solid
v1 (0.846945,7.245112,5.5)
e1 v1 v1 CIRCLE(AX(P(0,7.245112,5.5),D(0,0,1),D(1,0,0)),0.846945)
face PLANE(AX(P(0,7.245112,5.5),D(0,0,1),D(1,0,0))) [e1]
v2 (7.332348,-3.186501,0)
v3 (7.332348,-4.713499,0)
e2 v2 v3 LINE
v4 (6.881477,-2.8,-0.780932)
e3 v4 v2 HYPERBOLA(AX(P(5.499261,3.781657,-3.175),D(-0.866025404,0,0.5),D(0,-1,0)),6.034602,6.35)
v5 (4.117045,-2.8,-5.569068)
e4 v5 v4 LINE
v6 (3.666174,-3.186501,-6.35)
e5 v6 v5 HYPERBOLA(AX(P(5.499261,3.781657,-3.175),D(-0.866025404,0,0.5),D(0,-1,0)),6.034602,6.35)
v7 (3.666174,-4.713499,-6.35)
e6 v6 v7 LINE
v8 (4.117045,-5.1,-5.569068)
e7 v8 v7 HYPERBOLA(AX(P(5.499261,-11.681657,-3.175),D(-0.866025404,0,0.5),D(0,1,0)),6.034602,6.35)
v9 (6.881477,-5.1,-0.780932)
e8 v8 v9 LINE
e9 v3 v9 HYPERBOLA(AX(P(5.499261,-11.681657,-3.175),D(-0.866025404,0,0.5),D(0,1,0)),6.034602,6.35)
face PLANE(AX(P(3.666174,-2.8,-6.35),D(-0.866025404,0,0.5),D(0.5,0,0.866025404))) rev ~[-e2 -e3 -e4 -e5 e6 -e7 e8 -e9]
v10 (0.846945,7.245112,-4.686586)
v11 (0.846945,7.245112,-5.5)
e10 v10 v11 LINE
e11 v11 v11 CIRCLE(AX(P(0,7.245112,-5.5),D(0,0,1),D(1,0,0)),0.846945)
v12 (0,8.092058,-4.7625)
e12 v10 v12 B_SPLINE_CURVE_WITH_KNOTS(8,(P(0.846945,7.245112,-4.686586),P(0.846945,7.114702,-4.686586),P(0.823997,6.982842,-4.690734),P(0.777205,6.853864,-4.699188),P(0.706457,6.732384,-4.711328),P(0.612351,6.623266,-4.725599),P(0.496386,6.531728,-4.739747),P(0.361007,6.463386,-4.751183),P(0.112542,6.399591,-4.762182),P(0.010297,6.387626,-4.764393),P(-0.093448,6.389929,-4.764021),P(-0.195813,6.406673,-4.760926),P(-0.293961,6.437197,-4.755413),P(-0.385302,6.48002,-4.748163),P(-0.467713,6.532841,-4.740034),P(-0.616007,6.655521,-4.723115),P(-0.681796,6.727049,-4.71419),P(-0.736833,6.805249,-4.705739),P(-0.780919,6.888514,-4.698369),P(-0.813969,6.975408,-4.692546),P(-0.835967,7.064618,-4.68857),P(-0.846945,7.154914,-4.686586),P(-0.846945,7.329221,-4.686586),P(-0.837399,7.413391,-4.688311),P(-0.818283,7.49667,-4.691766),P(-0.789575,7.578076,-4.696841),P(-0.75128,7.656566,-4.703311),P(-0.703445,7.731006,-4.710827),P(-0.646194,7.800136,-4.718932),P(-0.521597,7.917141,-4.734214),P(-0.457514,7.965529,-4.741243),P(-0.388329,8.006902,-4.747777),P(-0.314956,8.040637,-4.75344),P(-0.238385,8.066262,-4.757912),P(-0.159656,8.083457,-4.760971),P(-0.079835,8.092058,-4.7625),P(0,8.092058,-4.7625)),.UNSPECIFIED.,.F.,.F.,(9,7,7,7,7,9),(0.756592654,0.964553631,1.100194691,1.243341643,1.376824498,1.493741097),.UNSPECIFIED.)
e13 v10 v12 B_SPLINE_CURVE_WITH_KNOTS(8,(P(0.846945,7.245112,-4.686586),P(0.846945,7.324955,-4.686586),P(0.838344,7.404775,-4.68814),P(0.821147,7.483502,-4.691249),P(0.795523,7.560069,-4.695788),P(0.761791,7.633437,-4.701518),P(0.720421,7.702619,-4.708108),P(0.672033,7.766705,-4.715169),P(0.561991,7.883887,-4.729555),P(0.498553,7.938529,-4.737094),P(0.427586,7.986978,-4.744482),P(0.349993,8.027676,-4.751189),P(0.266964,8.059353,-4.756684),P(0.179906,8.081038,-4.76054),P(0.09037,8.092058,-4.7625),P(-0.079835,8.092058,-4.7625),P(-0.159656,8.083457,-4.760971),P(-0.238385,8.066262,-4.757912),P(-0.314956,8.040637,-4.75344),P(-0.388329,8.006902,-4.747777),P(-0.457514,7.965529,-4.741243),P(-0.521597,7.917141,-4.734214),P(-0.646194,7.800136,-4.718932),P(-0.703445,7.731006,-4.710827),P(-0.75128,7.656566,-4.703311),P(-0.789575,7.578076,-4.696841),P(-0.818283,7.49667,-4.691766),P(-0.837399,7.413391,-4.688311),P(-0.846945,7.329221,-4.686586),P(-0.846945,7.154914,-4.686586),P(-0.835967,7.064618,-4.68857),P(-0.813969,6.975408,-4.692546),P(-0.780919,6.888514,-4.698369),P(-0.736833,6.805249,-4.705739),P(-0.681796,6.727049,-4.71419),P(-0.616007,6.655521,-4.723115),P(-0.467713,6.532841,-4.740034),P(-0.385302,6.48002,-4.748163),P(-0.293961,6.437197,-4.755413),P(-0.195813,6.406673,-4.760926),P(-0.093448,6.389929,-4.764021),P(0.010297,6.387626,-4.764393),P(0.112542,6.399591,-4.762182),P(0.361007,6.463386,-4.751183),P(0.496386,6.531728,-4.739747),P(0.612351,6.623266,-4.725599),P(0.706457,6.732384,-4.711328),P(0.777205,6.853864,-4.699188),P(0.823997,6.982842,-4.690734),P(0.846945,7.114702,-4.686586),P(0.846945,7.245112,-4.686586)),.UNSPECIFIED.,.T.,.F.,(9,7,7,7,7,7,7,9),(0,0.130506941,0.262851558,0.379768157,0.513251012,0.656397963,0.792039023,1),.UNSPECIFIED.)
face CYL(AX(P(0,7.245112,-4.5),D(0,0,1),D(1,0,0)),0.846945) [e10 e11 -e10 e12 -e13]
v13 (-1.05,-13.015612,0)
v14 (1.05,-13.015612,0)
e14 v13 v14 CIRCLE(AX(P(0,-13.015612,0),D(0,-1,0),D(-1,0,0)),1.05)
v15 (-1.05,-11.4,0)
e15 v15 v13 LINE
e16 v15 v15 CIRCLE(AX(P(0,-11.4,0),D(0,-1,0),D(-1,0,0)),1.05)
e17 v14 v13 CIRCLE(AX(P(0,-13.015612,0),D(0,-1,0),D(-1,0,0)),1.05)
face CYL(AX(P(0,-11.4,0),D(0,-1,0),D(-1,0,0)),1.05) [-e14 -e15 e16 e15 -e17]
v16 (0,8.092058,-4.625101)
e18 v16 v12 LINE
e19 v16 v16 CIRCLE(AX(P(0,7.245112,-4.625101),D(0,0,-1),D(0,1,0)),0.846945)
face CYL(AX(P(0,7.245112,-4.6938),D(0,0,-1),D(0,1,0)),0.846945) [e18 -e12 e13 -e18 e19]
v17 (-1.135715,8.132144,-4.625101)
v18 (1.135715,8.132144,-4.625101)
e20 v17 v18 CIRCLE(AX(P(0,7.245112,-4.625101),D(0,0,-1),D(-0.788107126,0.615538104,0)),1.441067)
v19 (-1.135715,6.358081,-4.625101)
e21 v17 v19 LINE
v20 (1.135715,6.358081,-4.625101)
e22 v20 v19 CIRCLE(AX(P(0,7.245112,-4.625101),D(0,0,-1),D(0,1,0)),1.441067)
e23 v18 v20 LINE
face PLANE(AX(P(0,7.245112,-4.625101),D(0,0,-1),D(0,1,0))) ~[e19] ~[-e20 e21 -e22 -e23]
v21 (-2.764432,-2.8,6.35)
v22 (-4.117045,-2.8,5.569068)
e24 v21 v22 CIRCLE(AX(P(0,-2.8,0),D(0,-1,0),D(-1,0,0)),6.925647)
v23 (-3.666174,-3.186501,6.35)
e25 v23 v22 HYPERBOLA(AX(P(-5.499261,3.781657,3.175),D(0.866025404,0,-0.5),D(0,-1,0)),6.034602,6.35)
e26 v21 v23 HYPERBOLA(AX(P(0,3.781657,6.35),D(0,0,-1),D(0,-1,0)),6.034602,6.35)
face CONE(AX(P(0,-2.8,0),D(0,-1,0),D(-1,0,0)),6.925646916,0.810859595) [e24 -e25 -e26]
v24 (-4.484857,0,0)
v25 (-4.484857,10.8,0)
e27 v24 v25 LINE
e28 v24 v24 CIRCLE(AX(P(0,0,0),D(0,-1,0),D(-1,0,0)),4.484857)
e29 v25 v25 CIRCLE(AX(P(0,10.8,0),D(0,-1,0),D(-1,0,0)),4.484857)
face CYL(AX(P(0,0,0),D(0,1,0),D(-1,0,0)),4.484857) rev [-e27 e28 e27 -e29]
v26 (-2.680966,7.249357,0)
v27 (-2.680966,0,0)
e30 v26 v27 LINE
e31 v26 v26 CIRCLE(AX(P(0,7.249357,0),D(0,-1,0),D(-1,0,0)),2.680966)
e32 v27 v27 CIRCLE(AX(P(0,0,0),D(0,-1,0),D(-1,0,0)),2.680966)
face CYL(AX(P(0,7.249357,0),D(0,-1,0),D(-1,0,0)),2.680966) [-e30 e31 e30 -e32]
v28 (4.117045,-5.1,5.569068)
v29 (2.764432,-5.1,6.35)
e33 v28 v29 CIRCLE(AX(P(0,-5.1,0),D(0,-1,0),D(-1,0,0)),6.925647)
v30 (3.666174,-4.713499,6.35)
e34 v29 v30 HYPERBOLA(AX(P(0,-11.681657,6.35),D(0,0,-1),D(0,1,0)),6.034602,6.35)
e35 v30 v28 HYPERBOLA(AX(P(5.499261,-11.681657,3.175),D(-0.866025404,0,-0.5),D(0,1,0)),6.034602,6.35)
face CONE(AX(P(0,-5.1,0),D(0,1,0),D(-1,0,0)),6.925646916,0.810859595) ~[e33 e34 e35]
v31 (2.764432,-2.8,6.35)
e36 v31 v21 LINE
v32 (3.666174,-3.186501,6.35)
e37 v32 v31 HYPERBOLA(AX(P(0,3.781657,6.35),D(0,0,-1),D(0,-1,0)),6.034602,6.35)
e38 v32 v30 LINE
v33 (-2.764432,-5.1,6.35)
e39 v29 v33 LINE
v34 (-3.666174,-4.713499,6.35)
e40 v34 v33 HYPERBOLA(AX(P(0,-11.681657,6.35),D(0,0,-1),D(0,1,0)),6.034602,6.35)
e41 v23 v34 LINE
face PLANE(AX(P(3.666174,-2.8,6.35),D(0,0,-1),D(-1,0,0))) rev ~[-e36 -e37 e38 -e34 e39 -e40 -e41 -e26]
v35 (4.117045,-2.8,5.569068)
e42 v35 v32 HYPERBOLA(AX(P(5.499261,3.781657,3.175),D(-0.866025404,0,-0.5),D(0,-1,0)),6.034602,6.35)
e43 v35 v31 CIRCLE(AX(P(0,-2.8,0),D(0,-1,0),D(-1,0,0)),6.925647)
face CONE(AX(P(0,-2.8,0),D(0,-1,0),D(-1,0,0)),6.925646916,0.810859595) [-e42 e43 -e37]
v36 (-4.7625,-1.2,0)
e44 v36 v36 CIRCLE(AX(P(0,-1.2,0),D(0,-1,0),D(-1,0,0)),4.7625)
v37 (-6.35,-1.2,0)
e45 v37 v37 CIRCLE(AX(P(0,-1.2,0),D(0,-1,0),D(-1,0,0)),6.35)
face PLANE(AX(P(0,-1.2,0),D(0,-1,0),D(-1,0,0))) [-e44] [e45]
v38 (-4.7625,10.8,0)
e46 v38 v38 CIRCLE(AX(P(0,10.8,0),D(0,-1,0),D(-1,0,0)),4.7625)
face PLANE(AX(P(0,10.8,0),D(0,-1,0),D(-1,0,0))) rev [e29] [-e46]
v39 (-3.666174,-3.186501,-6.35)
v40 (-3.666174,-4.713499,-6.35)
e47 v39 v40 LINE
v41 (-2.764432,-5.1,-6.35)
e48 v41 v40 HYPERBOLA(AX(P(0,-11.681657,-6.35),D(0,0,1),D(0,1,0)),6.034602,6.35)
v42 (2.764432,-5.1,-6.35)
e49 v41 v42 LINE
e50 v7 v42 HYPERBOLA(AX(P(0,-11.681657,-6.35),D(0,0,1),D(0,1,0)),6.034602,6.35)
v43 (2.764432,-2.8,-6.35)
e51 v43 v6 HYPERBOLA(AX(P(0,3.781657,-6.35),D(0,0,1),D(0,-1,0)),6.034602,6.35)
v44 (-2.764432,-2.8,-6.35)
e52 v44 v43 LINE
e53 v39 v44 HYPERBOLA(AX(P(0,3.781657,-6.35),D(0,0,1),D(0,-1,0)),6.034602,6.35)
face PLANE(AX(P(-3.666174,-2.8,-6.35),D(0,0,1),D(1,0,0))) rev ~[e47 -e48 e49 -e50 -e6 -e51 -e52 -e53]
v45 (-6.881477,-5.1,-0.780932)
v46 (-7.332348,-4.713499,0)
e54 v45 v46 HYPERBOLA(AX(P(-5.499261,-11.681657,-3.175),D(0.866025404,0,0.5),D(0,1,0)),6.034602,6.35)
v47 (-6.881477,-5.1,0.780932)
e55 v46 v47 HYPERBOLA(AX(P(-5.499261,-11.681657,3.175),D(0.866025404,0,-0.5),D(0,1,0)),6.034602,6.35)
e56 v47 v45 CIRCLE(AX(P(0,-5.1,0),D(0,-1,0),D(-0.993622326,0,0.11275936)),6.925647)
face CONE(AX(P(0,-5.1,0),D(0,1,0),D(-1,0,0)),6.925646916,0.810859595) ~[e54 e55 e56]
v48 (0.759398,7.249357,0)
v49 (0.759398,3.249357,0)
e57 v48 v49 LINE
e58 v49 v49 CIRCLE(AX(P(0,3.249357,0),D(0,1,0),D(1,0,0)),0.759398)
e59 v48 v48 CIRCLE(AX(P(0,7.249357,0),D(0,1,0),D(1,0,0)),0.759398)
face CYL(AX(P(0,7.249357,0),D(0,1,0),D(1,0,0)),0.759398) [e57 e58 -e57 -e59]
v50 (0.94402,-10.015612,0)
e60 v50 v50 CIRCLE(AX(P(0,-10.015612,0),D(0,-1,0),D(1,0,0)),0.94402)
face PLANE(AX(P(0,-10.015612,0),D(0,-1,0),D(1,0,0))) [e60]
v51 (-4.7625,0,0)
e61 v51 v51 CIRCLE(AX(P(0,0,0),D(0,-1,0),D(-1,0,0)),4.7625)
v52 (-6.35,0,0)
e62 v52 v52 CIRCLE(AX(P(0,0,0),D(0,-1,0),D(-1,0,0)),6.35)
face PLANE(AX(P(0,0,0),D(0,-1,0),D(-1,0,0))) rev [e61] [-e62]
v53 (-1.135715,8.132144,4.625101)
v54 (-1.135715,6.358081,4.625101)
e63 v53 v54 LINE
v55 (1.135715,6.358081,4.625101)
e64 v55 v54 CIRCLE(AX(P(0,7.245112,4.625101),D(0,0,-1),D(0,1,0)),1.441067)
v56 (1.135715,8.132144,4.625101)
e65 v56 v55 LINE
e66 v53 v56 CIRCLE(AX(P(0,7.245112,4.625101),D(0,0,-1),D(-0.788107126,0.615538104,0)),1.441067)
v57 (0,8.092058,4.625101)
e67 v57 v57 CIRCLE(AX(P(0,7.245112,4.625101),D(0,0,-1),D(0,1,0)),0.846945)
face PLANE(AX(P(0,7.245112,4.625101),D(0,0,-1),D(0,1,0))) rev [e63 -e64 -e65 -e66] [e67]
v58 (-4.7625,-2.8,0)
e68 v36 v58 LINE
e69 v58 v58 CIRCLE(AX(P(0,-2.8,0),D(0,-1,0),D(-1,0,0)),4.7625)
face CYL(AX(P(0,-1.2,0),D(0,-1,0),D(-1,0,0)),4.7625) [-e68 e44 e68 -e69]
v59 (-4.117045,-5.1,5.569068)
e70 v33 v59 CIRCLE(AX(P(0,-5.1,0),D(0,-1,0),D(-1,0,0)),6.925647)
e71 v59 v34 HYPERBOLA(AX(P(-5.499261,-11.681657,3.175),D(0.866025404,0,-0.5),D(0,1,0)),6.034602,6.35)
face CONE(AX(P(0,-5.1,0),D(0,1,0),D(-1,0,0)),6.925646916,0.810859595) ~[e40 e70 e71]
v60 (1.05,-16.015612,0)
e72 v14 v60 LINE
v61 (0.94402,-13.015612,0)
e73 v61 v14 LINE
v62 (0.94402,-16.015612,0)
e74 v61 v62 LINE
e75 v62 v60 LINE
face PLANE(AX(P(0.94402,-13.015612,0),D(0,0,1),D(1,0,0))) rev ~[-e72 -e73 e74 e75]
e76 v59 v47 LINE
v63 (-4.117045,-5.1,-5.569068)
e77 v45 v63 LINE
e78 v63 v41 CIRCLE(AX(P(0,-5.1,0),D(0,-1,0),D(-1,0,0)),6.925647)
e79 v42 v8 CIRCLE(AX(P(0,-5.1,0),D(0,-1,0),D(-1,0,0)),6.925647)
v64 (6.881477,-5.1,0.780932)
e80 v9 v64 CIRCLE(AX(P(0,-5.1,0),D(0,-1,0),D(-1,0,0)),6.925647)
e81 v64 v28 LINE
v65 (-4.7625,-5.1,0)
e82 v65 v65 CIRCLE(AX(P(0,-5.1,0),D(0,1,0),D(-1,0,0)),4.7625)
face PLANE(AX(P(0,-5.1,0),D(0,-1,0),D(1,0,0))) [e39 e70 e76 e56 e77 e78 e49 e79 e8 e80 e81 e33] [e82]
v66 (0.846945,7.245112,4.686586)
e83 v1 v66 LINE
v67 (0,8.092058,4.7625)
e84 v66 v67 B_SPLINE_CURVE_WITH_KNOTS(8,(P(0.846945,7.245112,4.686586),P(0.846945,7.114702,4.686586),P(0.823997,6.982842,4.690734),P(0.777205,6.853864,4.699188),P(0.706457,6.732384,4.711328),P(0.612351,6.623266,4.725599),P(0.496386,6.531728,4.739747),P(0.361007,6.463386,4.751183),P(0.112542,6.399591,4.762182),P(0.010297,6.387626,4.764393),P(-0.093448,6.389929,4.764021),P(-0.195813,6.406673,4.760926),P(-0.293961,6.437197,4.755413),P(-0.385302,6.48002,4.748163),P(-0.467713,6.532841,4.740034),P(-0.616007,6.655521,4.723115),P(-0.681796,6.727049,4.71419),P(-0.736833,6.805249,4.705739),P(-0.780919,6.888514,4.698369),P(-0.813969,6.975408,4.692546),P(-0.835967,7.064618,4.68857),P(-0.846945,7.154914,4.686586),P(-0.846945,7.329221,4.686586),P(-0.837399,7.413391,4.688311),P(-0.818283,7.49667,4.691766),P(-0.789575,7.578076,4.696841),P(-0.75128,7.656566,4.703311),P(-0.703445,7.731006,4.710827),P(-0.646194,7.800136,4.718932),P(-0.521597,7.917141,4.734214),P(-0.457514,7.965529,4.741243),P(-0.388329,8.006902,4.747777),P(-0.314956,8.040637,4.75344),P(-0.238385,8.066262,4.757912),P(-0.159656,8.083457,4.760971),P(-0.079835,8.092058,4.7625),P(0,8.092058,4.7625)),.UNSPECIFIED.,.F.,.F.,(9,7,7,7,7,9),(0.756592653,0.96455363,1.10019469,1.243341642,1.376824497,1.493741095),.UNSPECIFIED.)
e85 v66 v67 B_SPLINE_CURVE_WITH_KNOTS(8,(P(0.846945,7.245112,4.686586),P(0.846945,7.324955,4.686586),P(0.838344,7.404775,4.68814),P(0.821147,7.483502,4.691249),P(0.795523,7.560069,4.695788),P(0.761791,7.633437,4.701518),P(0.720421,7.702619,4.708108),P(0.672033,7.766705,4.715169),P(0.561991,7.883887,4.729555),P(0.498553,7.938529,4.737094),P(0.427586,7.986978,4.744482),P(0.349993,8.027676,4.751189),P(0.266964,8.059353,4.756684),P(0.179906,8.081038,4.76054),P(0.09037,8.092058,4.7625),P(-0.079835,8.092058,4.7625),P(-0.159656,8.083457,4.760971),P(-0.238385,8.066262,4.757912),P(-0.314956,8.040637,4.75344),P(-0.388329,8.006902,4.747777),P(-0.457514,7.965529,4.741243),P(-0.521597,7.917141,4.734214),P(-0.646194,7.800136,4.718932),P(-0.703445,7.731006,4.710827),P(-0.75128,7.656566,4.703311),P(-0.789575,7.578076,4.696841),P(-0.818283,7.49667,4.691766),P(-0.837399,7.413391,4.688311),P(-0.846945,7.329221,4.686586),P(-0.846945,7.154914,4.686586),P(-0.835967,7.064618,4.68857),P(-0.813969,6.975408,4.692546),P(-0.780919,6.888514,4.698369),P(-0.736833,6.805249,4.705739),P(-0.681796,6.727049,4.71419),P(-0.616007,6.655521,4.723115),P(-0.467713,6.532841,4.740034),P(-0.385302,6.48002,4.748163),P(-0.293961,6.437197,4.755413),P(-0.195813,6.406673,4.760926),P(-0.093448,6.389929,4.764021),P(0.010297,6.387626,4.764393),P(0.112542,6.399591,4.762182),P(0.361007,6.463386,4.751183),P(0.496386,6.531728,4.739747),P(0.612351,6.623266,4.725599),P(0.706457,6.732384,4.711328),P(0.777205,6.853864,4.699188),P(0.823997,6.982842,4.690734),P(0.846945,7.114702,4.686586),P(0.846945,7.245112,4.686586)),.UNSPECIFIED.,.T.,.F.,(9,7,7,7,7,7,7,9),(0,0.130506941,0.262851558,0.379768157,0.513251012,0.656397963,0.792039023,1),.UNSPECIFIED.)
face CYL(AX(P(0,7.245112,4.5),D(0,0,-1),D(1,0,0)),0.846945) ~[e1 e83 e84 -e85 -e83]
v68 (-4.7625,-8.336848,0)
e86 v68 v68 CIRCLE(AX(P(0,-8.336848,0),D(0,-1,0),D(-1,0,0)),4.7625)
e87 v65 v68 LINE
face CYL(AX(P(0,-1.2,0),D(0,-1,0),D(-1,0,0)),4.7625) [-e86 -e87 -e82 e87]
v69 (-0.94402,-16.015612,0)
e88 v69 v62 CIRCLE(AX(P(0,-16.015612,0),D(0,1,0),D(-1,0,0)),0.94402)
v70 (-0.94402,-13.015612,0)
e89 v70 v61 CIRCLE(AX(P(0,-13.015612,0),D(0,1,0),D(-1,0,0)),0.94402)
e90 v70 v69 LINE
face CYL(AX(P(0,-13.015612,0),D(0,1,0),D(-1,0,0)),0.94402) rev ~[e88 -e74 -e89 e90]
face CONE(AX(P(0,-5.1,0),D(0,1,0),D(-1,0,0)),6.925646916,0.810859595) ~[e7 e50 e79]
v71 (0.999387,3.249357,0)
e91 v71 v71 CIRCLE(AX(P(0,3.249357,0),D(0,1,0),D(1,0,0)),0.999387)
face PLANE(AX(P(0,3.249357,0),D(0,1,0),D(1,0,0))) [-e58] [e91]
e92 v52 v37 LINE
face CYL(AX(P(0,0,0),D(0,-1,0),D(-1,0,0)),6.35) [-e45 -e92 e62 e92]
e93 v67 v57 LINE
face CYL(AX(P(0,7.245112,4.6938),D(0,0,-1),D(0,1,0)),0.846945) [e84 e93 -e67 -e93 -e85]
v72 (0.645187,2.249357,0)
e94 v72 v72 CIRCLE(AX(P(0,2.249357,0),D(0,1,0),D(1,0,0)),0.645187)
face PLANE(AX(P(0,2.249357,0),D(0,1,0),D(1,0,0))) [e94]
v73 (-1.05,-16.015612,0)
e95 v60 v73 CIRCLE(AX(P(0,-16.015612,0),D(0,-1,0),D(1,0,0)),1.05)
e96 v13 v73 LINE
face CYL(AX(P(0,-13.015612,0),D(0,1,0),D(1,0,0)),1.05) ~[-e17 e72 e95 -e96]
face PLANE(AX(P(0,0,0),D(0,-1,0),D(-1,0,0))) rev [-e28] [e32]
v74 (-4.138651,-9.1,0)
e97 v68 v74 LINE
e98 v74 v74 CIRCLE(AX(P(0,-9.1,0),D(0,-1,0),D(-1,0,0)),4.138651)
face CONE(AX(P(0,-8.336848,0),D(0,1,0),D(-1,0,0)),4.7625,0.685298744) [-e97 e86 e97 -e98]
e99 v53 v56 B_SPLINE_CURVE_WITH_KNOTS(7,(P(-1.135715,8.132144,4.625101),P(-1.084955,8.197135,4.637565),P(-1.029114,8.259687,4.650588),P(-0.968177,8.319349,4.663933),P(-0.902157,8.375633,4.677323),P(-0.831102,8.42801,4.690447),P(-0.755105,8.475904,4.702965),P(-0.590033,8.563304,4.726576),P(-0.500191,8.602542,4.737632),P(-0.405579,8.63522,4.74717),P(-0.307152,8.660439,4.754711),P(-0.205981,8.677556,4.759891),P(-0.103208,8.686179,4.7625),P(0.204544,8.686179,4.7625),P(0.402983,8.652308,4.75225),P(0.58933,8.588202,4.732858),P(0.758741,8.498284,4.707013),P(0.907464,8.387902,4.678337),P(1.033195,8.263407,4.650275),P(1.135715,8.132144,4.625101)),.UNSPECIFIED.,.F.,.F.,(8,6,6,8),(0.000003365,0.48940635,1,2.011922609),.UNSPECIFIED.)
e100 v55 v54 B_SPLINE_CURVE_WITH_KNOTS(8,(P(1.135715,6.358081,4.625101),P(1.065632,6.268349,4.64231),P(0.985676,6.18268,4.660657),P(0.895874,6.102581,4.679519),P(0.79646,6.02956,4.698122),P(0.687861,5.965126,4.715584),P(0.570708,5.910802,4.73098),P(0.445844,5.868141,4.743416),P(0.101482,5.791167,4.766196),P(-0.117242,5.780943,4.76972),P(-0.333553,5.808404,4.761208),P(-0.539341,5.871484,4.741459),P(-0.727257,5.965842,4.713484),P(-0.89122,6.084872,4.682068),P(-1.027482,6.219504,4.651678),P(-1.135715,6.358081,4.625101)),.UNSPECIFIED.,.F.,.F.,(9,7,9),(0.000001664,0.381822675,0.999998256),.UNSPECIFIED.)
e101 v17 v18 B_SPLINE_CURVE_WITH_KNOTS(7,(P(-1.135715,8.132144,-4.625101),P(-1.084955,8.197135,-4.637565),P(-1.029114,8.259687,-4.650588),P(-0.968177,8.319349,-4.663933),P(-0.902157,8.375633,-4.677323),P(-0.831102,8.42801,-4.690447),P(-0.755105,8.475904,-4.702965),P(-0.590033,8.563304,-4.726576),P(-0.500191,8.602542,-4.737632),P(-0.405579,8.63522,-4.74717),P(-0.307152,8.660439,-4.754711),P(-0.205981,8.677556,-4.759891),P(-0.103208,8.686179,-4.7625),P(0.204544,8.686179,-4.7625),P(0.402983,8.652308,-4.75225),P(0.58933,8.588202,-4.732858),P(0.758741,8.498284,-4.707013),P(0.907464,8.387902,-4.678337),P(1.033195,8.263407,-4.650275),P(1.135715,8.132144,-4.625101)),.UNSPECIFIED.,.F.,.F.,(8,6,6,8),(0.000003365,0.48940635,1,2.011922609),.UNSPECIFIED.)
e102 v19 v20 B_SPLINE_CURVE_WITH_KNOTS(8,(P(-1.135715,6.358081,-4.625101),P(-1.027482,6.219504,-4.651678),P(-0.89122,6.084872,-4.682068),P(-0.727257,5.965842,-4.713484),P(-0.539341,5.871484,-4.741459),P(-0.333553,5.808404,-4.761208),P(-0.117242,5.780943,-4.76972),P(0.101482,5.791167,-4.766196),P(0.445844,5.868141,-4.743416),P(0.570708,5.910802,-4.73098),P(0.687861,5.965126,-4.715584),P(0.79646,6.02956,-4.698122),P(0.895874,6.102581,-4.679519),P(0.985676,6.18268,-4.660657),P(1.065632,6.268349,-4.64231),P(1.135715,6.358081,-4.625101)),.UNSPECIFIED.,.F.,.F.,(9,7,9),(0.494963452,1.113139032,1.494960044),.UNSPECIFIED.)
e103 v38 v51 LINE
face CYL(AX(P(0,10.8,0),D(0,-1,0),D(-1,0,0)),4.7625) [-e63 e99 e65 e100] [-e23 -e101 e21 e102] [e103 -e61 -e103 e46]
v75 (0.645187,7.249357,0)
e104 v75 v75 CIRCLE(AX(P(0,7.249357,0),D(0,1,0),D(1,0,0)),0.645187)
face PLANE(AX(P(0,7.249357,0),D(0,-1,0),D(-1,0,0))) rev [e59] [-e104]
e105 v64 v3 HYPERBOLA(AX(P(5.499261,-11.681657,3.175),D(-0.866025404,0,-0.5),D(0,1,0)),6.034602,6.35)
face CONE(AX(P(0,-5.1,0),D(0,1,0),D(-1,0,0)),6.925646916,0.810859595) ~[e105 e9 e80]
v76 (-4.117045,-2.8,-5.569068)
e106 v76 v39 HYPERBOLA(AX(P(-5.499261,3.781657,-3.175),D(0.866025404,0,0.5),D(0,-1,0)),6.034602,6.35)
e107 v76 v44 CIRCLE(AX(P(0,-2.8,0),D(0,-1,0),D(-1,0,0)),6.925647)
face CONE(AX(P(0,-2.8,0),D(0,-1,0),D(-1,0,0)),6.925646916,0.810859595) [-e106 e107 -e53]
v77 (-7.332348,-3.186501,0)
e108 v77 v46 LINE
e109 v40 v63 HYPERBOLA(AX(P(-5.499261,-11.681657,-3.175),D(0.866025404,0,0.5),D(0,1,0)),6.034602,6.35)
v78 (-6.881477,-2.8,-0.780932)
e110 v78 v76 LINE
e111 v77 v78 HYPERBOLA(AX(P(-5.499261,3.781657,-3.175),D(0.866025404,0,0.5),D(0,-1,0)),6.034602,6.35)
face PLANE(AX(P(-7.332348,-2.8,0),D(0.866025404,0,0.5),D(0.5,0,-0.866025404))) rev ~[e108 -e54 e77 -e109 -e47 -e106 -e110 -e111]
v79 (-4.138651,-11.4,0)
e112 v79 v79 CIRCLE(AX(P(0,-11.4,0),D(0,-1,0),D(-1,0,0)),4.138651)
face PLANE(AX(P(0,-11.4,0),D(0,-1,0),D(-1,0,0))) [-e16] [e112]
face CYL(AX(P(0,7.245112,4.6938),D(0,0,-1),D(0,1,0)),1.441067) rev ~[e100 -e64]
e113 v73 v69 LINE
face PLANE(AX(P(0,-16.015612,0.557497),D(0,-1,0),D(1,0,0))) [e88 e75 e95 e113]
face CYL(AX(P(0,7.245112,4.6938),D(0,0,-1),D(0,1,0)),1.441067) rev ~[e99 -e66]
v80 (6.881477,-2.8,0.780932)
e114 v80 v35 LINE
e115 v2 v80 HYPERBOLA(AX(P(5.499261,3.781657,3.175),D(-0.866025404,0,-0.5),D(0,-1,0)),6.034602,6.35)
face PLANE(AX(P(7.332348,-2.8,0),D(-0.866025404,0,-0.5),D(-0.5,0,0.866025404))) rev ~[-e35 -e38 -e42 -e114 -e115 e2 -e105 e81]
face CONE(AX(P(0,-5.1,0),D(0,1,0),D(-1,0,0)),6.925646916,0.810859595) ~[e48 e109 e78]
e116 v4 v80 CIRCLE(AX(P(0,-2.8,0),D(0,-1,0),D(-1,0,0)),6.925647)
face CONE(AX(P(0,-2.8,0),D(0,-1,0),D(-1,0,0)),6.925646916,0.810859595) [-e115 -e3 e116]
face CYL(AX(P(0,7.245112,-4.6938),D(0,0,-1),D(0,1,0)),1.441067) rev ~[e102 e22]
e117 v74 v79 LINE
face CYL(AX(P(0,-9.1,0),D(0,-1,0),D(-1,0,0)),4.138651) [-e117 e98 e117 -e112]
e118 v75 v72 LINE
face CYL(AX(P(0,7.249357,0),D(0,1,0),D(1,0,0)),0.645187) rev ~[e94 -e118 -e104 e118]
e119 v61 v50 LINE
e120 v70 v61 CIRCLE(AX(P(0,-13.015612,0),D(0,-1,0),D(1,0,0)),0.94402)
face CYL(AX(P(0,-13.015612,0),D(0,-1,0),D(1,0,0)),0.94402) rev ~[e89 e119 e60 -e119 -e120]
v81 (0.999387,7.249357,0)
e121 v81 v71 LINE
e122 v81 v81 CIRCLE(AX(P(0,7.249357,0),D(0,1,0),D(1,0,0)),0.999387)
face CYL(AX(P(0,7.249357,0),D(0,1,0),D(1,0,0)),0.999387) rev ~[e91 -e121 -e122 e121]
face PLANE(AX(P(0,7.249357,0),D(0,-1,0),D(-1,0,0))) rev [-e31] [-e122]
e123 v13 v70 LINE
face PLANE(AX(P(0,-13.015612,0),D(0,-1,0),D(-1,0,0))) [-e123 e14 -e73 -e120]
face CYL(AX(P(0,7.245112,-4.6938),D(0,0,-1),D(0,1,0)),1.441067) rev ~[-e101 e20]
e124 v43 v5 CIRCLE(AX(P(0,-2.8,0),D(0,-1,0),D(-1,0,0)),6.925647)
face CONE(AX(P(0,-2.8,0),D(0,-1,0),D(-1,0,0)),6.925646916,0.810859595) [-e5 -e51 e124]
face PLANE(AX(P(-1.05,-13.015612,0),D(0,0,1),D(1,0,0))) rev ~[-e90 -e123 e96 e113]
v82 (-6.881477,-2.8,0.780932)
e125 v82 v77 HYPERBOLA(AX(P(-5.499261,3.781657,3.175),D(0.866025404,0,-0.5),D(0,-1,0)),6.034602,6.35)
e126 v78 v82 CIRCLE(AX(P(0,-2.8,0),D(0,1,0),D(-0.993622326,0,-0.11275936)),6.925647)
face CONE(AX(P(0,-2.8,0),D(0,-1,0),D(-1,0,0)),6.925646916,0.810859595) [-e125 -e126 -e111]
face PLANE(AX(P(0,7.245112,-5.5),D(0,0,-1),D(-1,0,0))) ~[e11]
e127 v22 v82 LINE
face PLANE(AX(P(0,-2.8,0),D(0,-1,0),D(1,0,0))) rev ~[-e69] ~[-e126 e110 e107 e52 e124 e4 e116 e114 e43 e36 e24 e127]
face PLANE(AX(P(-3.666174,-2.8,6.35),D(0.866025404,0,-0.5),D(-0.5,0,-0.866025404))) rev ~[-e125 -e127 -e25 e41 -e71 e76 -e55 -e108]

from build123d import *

# Parameters (mm, degrees)
BOSS_EXTRUDE1_START = 1.6
SKETCH2_R           = 4.7625
BOSS_EXTRUDE1_DEPTH = 2.3
BOSS_EXTRUDE2_START = 4.5
SKETCH5_R           = 0.846945363
BOSS_EXTRUDE2_DEPTH = 1
SKETCH6_R           = 0.645187132
CUT_EXTRUDE1_DEPTH  = 5
SKETCH9_W           = 0.137399245
SKETCH9_H           = 0.594121804
BOSS_EXTRUDE3_DEPTH = 3
SKETCH11_R          = 0.94402027
CUT_EXTRUDE2_DEPTH  = 3
SKETCH13_R          = 0.99938664
SKETCH13_R_2        = 0.759397748
CUT_EXTRUDE4_DEPTH  = 4


with BuildPart() as part:
    # Sketch1 → Revolve1 (revolve)
    with BuildSketch(Plane.XY):
        Polygon((0, 7.249356935), (-2.68096621, 7.249356935), (-2.68096621, 0), (-4.484856827, 0), (-4.484856827, 10.8), (-4.7625, 10.8), (-4.7625, 0), (-6.35, 0), (-6.35, -1.2), (-4.7625, -1.2), (-4.7625, -8.33684753), (-4.138651138, -9.1), (-4.138651138, -11.4), (-1.05, -11.4), (-1.05, -13.015612484), (0, -13.015612484), align=None)
    revolve(axis=Axis((0, 72.402332312, 0), (0, -1, 0)))

    # Sketch2 → Boss-Extrude1 (add)
    with BuildSketch(Plane.XZ.offset(1.2).offset(BOSS_EXTRUDE1_START)):
        Polygon((3.666174209, -6.35), (7.332348419, 0), (3.666174209, 6.35), (-3.666174209, 6.35), (-7.332348419, 0), (-3.666174209, -6.35), align=None)
        Circle(SKETCH2_R, mode=Mode.SUBTRACT)
    extrude(amount=BOSS_EXTRUDE1_DEPTH)

    # Sketch4 → Cut-Revolve1 (revolve, cut)
    with BuildSketch(Plane.XY):
        Polygon((-6.925646916, -2.8), (-7.332348419, -3.186501065), (-8.999279983, -3.186501065), (-8.361056601, -0.327260314), (-6.925646916, 0.349979738), align=None)
        Polygon((-6.925646916, -8.249979738), (-6.925646916, -5.1), (-7.332348419, -4.713498935), (-8.999279983, -4.713498935), (-8.361056601, -7.572739686), align=None)
    revolve(axis=Axis((0, 10.8, 0), (0, -1, 0)), mode=Mode.SUBTRACT)

    # Sketch5 → Boss-Extrude2 (add)
    with BuildSketch(Plane.XY.offset(BOSS_EXTRUDE2_START)):
        with Locations((0, 7.245112304)):
            Circle(SKETCH5_R)
    boss_extrude2 = extrude(amount=BOSS_EXTRUDE2_DEPTH)

    # Mirror1: Boss-Extrude2 across plane
    add(boss_extrude2.mirror(Plane.XY))

    # Sketch6 → Cut-Extrude1 (cut)
    with BuildSketch(Plane(origin=(0, 7.249356935, 0), x_dir=(1, 0, 0), z_dir=(0, 1, 0))):
        Circle(SKETCH6_R)
    extrude(amount=-CUT_EXTRUDE1_DEPTH, mode=Mode.SUBTRACT)

    # Sketch9 → Cut-Revolve2 (revolve, cut)
    with BuildSketch(Plane(origin=(0, 0, 0), x_dir=(0, 0, -1), z_dir=(1, 0, 0))):
        with Locations((4.693800378, 8.389118569)):
            Rectangle(SKETCH9_W, SKETCH9_H)
        with Locations((-4.693800378, 8.389118569)):
            Rectangle(SKETCH9_W, SKETCH9_H)
    revolve(axis=Axis((0, 7.245112304, 5.5), (0, 0, -1)), mode=Mode.SUBTRACT)

    # Sketch10 → Boss-Extrude3 (add)
    with BuildSketch(Plane.XZ.offset(13.015612484)):
        with BuildLine():
            Line((0.94402027, 0), (1.05, 0))
            ThreePointArc((1.05, 0), (0, 1.05), (-1.05, 0))
            Line((-1.05, 0), (-0.94402027, 0))
            ThreePointArc((-0.94402027, 0), (0, 0.94402027), (0.94402027, 0))
        make_face()
    extrude(amount=BOSS_EXTRUDE3_DEPTH)

    # Sketch11 → Cut-Extrude2 (cut)
    with BuildSketch(Plane.XZ.offset(13.015612484)):
        Circle(SKETCH11_R)
    extrude(amount=-CUT_EXTRUDE2_DEPTH, mode=Mode.SUBTRACT)

    # Sketch13 → Cut-Extrude4 (cut)
    with BuildSketch(Plane(origin=(0, 7.249356935, 0), x_dir=(1, 0, 0), z_dir=(0, 1, 0))):
        Circle(SKETCH13_R)
        Circle(SKETCH13_R_2, mode=Mode.SUBTRACT)
    extrude(amount=-CUT_EXTRUDE4_DEPTH, mode=Mode.SUBTRACT)


solid = part.part
